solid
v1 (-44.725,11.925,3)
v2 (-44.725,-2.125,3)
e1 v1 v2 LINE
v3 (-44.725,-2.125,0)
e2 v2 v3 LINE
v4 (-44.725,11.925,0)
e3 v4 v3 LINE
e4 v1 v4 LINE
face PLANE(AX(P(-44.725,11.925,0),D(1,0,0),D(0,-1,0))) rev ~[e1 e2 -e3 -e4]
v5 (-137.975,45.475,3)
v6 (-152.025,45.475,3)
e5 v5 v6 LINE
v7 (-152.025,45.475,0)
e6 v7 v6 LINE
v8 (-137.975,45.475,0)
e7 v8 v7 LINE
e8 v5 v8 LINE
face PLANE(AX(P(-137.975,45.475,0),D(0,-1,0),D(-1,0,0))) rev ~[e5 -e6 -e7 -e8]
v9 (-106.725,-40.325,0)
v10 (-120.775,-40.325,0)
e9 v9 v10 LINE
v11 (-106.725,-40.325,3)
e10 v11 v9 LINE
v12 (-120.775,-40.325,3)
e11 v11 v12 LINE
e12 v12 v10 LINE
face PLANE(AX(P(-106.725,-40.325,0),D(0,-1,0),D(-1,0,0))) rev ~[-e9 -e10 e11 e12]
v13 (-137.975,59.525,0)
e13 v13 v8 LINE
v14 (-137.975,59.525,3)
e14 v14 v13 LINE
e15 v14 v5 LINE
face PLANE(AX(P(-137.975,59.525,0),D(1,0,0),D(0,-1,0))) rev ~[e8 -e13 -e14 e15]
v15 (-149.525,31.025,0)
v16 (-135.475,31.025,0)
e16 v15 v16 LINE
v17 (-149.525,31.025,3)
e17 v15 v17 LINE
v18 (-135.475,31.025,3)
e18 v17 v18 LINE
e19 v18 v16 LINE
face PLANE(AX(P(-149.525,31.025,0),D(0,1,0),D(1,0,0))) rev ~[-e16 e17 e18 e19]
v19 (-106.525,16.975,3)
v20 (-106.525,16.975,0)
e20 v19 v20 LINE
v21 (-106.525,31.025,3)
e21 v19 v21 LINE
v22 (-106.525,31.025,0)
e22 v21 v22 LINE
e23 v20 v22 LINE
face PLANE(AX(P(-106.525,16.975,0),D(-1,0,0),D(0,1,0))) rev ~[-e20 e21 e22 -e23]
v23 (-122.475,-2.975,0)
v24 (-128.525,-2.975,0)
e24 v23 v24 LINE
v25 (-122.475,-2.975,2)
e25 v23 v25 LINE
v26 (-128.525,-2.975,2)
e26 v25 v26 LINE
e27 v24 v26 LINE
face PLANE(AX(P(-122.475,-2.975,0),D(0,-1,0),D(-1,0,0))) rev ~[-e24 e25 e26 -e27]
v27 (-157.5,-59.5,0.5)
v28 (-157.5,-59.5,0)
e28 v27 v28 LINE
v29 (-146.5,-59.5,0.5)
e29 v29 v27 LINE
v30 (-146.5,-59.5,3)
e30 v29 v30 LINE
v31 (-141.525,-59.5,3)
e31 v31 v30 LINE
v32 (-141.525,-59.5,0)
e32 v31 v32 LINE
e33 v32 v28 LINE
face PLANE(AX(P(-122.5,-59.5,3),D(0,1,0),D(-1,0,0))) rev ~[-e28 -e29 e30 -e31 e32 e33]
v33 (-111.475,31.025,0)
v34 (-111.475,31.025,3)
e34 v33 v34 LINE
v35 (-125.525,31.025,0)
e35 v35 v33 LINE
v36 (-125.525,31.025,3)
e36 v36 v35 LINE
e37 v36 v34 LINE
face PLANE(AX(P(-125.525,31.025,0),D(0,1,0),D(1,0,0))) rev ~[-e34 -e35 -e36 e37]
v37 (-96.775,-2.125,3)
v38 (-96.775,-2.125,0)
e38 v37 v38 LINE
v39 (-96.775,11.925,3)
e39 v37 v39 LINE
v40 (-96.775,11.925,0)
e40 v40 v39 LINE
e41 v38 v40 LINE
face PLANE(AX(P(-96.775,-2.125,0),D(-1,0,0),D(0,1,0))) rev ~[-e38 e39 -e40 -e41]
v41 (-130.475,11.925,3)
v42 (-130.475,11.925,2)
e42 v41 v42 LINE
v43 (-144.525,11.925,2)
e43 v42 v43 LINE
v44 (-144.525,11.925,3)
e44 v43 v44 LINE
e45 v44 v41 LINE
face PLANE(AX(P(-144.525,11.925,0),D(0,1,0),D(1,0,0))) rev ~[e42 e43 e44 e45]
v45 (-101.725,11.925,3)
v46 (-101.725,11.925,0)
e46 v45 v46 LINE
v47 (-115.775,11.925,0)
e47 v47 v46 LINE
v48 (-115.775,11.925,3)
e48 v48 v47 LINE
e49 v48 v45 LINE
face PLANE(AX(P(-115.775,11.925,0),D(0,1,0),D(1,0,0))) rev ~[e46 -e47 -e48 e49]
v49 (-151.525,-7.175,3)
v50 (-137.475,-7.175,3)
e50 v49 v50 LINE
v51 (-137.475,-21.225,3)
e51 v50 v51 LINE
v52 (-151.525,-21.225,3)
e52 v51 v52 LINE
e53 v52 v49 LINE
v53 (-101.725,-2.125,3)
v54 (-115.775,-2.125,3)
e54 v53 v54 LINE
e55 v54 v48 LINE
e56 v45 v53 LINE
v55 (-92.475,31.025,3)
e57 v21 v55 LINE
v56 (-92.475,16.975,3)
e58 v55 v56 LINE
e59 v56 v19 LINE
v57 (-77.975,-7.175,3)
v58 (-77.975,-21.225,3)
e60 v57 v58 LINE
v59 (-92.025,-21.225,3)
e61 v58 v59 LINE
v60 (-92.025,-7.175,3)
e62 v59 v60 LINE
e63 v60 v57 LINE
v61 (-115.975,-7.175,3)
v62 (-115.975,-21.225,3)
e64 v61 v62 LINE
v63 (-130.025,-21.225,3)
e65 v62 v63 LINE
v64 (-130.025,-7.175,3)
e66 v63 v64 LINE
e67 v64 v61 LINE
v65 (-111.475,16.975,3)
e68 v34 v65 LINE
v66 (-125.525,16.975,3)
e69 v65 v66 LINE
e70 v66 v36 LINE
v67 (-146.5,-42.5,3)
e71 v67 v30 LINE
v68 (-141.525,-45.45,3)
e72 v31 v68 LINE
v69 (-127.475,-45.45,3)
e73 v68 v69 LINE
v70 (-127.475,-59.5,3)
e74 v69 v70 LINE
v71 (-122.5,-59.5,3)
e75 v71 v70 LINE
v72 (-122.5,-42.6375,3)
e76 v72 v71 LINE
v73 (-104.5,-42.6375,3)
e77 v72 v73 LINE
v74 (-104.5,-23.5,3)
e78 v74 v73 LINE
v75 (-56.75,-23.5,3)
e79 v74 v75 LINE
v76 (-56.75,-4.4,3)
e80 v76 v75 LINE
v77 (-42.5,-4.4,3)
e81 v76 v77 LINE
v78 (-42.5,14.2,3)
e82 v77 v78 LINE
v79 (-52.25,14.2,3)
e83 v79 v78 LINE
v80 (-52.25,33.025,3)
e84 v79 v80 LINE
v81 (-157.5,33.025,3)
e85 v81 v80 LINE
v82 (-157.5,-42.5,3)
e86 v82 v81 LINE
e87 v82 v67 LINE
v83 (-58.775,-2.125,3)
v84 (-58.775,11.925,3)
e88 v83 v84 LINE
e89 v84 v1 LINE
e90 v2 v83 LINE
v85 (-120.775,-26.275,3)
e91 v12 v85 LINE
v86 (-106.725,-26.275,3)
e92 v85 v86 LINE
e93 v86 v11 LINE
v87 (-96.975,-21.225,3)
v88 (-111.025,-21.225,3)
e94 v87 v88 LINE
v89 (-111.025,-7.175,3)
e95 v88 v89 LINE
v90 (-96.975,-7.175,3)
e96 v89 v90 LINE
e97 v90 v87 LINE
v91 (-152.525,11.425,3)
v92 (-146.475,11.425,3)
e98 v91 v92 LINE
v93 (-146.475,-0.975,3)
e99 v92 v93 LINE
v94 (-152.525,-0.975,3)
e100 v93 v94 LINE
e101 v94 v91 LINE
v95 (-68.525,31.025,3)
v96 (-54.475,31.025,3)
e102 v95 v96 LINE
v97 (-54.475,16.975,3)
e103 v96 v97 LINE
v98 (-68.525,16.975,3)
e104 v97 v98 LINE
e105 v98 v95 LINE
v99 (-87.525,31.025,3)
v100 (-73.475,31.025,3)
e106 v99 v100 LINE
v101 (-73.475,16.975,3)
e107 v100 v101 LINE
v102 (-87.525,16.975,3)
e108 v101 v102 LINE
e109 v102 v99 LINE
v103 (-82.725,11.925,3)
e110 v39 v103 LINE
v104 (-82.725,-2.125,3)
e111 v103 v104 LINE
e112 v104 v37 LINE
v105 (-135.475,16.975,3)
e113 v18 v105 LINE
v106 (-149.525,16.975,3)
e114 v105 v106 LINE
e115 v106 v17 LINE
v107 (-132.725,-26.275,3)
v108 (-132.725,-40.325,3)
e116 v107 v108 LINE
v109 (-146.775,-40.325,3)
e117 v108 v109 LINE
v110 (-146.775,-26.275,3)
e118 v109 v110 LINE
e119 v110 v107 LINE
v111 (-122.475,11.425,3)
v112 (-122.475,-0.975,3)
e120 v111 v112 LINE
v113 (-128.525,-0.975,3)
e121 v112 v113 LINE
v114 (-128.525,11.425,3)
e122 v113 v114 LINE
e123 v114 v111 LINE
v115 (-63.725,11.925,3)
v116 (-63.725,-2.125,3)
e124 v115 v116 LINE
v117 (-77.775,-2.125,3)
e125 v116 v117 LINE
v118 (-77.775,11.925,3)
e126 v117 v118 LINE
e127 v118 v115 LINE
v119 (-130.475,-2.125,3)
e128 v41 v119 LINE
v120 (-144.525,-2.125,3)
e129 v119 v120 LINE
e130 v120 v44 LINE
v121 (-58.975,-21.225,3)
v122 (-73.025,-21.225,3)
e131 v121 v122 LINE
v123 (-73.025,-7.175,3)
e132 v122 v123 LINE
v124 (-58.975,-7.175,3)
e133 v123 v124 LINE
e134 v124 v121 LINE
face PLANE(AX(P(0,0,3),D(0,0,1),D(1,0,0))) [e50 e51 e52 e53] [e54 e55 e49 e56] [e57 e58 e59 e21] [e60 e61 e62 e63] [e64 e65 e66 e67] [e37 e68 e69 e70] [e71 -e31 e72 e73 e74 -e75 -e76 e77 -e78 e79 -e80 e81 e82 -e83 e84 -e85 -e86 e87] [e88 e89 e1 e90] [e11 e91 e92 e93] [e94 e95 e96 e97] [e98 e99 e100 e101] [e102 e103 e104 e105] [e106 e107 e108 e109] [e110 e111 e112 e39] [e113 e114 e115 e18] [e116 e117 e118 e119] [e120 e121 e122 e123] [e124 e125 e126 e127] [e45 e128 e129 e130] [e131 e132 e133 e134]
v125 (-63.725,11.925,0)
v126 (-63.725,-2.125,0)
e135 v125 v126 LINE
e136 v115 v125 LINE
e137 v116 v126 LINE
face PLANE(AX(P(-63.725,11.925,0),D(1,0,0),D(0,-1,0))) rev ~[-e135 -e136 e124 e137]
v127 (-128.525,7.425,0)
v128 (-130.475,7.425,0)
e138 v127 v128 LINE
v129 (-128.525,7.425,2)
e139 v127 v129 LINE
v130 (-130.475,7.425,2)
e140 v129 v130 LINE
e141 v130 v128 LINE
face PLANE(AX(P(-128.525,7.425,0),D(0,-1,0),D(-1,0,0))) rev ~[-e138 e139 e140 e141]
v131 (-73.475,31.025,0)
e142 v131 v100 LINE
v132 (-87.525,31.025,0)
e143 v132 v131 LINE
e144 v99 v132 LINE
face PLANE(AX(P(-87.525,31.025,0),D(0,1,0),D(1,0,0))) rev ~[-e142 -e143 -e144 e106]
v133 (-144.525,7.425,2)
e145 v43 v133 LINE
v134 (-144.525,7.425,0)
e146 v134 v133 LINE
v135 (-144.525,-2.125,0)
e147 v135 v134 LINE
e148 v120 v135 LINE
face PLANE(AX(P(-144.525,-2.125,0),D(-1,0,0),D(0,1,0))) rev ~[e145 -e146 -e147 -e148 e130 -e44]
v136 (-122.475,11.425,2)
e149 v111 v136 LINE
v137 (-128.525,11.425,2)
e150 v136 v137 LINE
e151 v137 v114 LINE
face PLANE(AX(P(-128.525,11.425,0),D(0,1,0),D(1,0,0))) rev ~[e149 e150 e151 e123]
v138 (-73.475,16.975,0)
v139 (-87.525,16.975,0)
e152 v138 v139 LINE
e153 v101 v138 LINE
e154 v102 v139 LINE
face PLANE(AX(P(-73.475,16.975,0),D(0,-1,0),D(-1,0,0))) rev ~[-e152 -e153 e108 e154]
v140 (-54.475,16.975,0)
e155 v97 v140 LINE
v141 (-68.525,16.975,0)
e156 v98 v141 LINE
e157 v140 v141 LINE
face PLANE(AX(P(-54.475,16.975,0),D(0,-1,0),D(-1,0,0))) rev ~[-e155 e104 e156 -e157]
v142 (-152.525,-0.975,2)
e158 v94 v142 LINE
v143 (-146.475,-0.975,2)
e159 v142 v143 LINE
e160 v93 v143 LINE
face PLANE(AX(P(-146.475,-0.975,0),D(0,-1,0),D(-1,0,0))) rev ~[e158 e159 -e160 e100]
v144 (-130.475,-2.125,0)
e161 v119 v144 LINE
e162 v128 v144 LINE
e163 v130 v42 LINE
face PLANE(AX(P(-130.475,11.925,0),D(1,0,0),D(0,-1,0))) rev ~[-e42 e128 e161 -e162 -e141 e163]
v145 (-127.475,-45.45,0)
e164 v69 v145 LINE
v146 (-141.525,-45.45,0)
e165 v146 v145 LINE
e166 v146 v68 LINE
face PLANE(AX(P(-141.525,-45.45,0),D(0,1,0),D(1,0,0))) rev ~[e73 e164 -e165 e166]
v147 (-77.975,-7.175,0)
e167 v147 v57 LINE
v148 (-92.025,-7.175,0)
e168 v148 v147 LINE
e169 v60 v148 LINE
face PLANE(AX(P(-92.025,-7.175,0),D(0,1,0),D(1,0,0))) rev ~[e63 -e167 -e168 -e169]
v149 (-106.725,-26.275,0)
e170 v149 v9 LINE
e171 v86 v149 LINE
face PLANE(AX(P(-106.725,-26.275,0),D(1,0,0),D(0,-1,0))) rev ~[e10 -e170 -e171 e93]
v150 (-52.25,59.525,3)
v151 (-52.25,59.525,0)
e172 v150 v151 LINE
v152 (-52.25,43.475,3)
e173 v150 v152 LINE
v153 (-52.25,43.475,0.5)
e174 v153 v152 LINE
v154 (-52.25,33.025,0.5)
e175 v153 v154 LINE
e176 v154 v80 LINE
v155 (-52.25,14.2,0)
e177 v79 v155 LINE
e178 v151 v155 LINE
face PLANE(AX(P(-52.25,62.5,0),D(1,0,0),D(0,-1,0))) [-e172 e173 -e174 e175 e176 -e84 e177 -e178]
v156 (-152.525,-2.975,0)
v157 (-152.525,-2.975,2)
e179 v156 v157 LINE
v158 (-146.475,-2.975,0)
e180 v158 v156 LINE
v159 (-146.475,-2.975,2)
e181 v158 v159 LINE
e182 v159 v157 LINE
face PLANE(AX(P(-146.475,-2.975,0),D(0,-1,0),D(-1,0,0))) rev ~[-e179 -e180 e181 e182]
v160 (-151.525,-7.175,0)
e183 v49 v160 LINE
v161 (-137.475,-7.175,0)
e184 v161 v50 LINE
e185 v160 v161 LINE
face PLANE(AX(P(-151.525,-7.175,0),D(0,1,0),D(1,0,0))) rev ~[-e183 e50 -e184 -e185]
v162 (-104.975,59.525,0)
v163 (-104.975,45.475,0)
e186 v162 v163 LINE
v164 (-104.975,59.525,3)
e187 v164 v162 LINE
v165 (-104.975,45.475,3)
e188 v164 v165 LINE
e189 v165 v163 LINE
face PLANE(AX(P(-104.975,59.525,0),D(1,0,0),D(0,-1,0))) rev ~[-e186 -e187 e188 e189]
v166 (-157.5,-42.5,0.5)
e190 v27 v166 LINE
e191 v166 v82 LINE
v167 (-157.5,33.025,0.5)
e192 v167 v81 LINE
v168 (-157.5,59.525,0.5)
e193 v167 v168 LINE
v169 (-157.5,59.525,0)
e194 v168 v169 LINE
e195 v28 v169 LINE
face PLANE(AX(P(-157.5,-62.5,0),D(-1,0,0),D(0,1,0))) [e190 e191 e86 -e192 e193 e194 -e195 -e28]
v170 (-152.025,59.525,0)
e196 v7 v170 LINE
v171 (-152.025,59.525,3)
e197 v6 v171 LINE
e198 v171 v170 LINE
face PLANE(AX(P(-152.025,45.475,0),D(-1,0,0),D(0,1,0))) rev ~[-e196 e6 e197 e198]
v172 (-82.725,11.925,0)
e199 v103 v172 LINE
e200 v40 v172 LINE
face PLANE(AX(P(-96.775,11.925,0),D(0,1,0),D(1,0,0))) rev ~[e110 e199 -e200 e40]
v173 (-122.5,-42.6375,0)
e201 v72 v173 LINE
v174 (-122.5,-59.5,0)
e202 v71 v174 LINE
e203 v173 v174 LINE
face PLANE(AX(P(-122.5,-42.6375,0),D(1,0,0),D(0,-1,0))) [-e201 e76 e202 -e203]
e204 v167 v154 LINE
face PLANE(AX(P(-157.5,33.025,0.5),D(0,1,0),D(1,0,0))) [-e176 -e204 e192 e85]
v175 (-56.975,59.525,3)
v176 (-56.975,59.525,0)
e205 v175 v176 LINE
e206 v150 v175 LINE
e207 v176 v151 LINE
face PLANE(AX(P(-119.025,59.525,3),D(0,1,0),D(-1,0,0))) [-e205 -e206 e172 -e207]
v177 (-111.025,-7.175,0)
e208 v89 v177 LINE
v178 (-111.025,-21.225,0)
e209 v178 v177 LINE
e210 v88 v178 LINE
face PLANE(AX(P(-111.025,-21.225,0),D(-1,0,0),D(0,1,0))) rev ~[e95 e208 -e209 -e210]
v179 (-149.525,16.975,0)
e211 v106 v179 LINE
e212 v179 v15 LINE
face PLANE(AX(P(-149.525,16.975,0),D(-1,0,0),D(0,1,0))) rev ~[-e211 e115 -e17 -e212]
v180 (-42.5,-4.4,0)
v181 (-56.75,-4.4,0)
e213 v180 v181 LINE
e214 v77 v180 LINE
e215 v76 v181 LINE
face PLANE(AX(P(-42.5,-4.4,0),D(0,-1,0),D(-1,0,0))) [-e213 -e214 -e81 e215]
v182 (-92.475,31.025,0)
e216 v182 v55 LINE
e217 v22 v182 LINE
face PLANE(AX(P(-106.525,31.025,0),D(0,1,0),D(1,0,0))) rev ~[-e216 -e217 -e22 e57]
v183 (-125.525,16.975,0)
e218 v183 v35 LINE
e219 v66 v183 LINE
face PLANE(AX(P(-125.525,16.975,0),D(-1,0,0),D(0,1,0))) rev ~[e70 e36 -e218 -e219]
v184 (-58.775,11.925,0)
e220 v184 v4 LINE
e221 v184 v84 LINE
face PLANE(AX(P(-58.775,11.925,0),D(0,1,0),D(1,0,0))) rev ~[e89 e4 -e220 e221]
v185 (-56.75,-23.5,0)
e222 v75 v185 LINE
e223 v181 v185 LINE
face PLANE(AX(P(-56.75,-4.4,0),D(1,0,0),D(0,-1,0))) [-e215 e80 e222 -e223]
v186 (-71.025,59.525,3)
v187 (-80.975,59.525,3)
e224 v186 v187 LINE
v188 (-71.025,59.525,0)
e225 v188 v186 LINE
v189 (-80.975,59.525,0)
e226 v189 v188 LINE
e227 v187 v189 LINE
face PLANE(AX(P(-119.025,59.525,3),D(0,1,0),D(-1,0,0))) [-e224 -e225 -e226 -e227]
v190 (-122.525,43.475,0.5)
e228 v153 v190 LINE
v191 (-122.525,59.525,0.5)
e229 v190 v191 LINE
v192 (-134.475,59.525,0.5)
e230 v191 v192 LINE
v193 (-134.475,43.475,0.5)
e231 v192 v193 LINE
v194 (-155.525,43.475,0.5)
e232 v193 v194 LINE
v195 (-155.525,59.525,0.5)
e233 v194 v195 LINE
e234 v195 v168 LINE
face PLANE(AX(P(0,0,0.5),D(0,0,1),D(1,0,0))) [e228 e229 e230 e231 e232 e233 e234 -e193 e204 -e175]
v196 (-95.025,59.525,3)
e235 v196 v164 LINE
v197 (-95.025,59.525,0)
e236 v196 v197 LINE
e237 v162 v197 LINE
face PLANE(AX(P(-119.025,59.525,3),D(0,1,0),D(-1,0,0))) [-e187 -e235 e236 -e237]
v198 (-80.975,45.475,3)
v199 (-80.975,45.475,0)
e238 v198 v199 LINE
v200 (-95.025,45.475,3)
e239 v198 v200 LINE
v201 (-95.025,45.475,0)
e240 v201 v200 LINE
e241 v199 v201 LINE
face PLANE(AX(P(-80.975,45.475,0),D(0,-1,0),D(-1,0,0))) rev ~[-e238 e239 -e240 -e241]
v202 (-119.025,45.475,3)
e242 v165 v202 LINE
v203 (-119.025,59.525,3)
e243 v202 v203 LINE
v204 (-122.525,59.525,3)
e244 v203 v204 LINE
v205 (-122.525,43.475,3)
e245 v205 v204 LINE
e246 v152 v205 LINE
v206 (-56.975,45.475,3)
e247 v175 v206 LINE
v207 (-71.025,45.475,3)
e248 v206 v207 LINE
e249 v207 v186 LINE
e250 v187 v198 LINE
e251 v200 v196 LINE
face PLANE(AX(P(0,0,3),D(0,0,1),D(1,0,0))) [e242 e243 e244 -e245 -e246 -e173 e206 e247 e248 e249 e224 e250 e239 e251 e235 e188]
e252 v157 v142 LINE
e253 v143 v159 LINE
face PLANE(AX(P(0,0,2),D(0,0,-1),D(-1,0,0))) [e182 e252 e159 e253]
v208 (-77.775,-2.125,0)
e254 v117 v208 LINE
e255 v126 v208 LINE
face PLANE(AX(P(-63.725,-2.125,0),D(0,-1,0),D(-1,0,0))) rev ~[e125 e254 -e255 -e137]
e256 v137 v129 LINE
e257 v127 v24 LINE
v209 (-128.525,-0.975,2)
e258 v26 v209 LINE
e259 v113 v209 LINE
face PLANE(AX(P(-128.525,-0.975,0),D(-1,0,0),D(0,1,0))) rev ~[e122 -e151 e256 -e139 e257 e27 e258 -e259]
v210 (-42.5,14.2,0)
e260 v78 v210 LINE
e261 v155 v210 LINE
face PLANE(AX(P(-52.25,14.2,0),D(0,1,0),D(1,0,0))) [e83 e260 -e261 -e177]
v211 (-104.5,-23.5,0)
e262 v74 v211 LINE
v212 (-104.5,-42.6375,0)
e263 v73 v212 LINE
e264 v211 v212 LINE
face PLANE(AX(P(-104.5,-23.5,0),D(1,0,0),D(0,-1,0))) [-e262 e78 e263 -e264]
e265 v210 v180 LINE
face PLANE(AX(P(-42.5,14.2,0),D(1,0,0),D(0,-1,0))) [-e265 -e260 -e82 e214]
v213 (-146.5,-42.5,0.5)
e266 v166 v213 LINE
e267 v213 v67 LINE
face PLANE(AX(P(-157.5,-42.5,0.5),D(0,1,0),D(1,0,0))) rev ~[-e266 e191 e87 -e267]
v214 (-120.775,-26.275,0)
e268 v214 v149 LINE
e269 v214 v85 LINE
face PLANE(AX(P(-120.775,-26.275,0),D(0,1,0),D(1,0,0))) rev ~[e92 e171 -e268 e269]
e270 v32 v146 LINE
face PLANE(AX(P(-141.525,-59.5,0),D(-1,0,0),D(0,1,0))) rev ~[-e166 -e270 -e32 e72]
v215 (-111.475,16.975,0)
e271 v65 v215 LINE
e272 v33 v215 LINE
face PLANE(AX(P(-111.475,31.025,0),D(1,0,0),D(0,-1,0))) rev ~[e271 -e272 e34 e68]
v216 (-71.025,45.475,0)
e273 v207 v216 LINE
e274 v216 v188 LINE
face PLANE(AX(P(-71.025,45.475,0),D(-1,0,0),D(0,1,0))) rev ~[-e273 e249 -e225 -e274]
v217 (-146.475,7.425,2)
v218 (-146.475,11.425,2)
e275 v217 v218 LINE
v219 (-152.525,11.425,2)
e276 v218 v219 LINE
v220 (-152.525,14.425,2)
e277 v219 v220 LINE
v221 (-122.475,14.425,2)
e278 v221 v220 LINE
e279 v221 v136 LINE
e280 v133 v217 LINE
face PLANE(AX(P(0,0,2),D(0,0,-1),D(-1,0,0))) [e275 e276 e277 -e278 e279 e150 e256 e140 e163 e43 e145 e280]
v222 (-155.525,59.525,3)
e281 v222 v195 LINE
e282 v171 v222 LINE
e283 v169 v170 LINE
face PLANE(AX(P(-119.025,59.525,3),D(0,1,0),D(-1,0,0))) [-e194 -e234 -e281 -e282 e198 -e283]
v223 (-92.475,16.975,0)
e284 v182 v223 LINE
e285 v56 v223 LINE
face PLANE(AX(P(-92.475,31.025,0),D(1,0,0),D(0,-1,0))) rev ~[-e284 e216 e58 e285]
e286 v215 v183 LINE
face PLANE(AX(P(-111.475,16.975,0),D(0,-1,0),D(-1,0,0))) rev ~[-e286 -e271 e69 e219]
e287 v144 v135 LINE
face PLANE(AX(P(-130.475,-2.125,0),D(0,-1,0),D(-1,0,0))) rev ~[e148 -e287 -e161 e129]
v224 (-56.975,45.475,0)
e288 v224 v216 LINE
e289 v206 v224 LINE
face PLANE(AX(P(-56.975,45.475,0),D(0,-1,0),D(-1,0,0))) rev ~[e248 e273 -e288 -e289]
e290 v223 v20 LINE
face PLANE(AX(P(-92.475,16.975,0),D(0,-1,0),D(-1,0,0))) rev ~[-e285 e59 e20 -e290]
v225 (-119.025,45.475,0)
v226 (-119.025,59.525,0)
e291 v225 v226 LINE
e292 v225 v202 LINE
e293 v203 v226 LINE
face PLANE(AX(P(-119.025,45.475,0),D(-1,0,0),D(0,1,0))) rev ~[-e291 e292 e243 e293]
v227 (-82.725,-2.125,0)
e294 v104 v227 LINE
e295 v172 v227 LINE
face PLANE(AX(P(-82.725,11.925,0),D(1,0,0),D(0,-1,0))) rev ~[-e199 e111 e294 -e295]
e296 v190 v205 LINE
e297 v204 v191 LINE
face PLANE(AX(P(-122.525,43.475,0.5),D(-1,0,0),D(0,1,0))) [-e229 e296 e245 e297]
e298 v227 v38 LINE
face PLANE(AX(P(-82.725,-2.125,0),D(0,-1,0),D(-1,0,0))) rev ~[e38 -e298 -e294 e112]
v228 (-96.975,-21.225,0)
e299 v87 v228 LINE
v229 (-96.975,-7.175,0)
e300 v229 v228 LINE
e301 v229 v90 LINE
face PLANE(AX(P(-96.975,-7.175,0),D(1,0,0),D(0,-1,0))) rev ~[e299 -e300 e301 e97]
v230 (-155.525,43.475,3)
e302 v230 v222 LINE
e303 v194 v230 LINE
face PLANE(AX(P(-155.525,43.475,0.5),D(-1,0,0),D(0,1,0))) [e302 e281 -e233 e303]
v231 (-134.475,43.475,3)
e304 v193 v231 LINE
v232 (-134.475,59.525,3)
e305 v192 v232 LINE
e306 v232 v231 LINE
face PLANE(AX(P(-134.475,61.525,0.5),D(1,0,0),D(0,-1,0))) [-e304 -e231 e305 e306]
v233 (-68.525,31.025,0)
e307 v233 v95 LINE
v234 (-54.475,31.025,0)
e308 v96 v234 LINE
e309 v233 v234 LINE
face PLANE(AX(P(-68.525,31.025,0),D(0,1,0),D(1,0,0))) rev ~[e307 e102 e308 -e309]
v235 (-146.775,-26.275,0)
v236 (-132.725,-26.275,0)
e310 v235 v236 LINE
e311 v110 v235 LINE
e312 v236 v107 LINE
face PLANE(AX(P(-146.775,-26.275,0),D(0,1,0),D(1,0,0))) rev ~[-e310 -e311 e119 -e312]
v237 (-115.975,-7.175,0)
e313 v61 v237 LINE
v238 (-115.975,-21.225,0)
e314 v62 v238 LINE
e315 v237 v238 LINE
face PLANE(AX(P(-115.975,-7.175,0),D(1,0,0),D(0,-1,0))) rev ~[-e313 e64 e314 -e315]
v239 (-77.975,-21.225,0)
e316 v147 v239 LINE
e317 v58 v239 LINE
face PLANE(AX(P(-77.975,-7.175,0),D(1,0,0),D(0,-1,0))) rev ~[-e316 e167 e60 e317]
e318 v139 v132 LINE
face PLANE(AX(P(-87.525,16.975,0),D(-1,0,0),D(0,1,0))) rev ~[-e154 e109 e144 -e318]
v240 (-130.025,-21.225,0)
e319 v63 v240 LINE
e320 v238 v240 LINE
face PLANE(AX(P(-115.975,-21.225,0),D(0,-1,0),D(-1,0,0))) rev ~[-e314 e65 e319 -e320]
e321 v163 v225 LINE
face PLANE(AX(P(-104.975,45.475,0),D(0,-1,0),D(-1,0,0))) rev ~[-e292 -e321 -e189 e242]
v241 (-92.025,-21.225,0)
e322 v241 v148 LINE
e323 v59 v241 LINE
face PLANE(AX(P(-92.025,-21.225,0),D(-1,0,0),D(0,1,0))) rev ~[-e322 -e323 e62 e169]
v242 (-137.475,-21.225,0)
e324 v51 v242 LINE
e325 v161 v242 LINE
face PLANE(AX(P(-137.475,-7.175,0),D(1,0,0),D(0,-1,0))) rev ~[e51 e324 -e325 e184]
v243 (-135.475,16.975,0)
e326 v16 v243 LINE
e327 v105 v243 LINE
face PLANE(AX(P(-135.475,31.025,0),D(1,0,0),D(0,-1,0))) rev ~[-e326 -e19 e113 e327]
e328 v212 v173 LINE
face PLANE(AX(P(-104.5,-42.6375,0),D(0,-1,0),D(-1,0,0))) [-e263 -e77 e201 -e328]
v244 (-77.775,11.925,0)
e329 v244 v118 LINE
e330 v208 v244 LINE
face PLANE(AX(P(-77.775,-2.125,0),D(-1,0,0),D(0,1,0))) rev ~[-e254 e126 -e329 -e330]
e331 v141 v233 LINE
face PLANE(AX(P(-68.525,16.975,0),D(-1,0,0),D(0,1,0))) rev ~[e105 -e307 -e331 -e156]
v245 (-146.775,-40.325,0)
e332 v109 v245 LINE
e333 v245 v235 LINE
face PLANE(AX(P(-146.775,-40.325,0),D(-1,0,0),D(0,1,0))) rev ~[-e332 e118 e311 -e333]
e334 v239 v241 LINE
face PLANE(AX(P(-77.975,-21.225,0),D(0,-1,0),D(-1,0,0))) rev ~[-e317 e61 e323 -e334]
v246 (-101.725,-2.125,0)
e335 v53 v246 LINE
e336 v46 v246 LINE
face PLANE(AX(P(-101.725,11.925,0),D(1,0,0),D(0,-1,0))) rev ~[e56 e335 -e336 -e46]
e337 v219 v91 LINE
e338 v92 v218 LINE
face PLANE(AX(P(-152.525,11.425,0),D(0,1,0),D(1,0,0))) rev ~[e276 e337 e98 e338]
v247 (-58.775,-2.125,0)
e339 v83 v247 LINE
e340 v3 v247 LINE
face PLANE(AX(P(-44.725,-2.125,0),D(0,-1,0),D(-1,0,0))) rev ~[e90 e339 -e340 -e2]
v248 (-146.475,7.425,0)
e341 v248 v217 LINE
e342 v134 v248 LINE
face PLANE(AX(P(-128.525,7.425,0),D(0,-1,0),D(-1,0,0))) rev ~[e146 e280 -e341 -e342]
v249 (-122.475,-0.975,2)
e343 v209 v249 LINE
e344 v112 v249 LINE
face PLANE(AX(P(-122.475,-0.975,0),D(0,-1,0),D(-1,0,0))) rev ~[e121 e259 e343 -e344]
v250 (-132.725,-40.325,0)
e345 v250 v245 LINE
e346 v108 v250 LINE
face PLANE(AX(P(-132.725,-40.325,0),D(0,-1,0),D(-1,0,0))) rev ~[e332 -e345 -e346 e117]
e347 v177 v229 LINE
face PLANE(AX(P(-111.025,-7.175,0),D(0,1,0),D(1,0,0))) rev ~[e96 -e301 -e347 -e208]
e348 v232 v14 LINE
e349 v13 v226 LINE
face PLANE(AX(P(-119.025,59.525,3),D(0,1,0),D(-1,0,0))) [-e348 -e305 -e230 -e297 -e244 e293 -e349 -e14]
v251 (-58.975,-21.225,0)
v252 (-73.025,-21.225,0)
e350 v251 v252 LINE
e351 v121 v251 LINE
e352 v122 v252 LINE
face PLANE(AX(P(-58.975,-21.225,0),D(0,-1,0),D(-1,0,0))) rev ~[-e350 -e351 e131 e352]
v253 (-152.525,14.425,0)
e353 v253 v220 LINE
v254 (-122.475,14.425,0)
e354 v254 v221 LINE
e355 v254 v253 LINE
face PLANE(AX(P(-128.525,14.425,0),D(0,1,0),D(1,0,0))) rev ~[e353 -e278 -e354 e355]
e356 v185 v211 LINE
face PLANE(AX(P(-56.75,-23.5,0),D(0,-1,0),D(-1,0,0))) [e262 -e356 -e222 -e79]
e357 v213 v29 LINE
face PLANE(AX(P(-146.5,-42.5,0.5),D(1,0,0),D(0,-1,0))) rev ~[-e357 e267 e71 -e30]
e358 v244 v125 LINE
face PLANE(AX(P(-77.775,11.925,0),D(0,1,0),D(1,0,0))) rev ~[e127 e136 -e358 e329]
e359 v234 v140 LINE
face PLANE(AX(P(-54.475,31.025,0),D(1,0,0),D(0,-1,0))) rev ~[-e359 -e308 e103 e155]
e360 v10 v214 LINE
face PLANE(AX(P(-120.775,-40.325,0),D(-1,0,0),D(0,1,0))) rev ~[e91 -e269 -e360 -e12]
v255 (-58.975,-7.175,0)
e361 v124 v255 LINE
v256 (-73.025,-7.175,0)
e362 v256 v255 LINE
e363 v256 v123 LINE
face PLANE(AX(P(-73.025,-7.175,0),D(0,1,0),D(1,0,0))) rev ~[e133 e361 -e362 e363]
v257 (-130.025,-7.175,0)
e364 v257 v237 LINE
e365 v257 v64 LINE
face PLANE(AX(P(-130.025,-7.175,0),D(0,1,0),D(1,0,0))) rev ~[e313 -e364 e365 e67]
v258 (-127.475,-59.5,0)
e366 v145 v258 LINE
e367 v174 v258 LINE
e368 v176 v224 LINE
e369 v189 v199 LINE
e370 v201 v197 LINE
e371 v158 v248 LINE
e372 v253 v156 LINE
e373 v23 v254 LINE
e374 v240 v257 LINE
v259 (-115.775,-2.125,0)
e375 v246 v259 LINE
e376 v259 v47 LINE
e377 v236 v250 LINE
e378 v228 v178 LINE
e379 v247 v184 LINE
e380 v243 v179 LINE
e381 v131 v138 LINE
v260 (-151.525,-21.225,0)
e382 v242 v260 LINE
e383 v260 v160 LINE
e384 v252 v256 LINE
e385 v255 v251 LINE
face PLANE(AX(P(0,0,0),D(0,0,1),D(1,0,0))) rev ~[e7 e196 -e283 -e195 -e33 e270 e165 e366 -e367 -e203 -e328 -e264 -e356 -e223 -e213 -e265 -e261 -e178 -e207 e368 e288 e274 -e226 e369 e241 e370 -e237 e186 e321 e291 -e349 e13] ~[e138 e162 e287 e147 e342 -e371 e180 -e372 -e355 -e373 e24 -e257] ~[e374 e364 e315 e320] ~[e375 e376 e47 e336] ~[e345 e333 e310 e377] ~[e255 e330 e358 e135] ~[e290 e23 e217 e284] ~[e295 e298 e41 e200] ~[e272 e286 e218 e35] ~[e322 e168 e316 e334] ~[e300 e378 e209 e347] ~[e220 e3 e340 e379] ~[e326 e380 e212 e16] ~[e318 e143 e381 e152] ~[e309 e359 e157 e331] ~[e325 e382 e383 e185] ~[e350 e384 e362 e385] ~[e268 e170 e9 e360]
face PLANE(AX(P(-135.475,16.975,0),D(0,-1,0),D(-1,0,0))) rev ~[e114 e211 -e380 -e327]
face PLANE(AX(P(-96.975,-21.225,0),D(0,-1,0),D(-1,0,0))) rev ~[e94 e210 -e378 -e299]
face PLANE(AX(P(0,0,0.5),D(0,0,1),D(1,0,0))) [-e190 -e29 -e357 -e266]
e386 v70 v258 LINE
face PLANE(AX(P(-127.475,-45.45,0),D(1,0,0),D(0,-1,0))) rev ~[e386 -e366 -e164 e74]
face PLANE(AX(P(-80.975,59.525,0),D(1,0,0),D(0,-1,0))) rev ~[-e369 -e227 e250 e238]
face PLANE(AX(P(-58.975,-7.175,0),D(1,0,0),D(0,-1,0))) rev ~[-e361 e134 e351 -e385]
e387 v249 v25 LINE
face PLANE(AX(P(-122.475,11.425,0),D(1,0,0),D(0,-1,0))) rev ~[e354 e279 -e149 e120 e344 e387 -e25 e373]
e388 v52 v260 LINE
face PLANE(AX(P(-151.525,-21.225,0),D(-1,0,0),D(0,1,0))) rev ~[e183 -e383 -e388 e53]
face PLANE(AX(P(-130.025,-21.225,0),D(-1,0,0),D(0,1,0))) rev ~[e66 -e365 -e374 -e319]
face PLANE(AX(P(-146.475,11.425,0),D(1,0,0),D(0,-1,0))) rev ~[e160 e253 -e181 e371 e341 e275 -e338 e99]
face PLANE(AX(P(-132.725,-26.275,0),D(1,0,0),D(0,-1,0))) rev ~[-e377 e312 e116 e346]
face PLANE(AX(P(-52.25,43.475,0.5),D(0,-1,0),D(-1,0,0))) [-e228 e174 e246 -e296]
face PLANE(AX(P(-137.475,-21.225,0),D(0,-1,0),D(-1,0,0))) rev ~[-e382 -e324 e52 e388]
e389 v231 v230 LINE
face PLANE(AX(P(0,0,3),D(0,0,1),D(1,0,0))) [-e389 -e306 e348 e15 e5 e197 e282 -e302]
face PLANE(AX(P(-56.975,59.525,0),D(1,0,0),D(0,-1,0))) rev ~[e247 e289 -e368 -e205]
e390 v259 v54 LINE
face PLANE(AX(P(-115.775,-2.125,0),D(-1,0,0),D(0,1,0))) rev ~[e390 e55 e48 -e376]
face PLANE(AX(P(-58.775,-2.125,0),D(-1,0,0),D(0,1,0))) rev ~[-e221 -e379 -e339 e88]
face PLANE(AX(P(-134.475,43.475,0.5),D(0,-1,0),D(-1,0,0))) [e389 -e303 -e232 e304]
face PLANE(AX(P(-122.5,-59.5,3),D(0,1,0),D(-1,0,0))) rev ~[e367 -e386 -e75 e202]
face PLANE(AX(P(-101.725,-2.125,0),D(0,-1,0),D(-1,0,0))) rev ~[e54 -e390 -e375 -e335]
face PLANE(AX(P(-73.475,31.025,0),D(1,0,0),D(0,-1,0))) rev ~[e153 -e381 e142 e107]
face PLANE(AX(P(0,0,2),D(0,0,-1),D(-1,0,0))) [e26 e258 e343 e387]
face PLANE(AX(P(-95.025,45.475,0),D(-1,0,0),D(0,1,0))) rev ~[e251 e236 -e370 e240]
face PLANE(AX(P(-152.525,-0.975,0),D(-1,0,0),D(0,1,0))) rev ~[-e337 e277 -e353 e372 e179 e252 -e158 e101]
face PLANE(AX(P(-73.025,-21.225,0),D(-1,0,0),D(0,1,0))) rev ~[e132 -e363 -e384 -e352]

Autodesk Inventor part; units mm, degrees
ref_plane "YZ Plane" through (0, 0, 0) normal (1, 0, 0) x (0, 1, 0)
ref_plane "XZ Plane" through (0, 0, 0) normal (0, 1, 0) x (-1, 0, 0)
ref_plane "XY Plane" through (0, 0, 0) normal (0, 0, 1) x (1, 0, 0)
sketch "Sketch1" plane through (0, 0, 0) normal (0, 0, 1) x (1, 0, 0)
  line L0 (157.5, 62.5) -> (-157.5, 62.5) construction
  line L1 (-157.5, 62.5) -> (-157.5, -62.5) construction
  line L2 (-157.5, -62.5) -> (157.5, -62.5) construction
  line L3 (-52.25, 62.5) -> (-52.25, 14.2)
  line L4 (-52.25, 14.2) -> (-42.5, 14.2)
  line L5 (-42.5, 14.2) -> (-42.5, -4.4)
  line L6 (-42.5, -4.4) -> (-56.75, -4.4)
  line L7 (-56.75, -4.4) -> (-56.75, -23.5)
  line L8 (-56.75, -23.5) -> (-104.5, -23.5)
  line L9 (-104.5, -23.5) -> (-104.5, -42.6375)
  line L10 (-104.5, -42.6375) -> (-122.5, -42.6375)
  line L11 (-122.5, -42.6375) -> (-122.5, -62.5)
  line L12 (-122.5, -62.5) -> (-157.5, -62.5)
  line L13 (-157.5, -62.5) -> (-157.5, 62.5)
  line L14 (-157.5, 62.5) -> (-52.25, 62.5)
  line L15 (-51.75, 61.525) -> (-51.75, 43.475) construction
  line L16 (-51.75, 14.7) -> (-42, 14.7) construction
  line L17 (-42, 14.7) -> (-42, -4.9) construction
  line L18 (-42, -4.9) -> (-56.25, -4.9) construction
  line L19 (-56.25, -4.9) -> (-56.25, -23.5) construction
  line L20 (66.5, -24) -> (-104, -24) construction
  line L21 (-104, -24) -> (-104, -43.1375) construction
  line L22 (-104, -43.1375) -> (-122, -43.1375) construction
  line L23 (-122, -43.1375) -> (-122, -62.5) construction
  line L24 (-152.025, 45.475) -> (-152.025, 59.525) projected
  line L25 (-152.025, 59.525) -> (-137.975, 59.525) projected
  line L26 (-137.975, 59.525) -> (-137.975, 45.475) projected
  line L27 (-137.975, 45.475) -> (-152.025, 45.475) projected
  line L28 (-119.025, 45.475) -> (-119.025, 59.525) projected
  line L29 (-119.025, 59.525) -> (-104.975, 59.525) projected
  line L30 (-104.975, 59.525) -> (-104.975, 45.475) projected
  line L31 (-104.975, 45.475) -> (-119.025, 45.475) projected
  line L32 (-95.025, 45.475) -> (-95.025, 59.525) projected
  line L33 (-95.025, 59.525) -> (-80.975, 59.525) projected
  line L34 (-80.975, 59.525) -> (-80.975, 45.475) projected
  line L35 (-80.975, 45.475) -> (-95.025, 45.475) projected
  line L36 (-71.025, 59.525) -> (-56.975, 59.525) projected
  line L37 (-56.975, 59.525) -> (-56.975, 45.475) projected
  line L38 (-56.975, 45.475) -> (-71.025, 45.475) projected
  line L39 (-71.025, 45.475) -> (-71.025, 59.525) projected
  line L40 (-68.525, 31.025) -> (-54.475, 31.025) projected
  line L41 (-54.475, 31.025) -> (-54.475, 16.975) projected
  line L42 (-68.525, 16.975) -> (-68.525, 31.025) projected
  line L43 (-54.475, 16.975) -> (-68.525, 16.975) projected
  line L44 (-73.475, 31.025) -> (-73.475, 16.975) projected
  line L45 (-87.525, 31.025) -> (-73.475, 31.025) projected
  line L46 (-87.525, 16.975) -> (-87.525, 31.025) projected
  line L47 (-73.475, 16.975) -> (-87.525, 16.975) projected
  line L48 (-92.475, 31.025) -> (-92.475, 16.975) projected
  line L49 (-106.525, 31.025) -> (-92.475, 31.025) projected
  line L50 (-106.525, 16.975) -> (-106.525, 31.025) projected
  line L51 (-92.475, 16.975) -> (-106.525, 16.975) projected
  line L52 (-111.475, 31.025) -> (-111.475, 16.975) projected
  line L53 (-125.525, 16.975) -> (-125.525, 31.025) projected
  line L54 (-125.525, 31.025) -> (-111.475, 31.025) projected
  line L55 (-111.475, 16.975) -> (-125.525, 16.975) projected
  line L56 (-149.525, 31.025) -> (-135.475, 31.025) projected
  line L57 (-135.475, 31.025) -> (-135.475, 16.975) projected
  line L58 (-149.525, 16.975) -> (-149.525, 31.025) projected
  line L59 (-135.475, 16.975) -> (-149.525, 16.975) projected
  line L60 (-144.525, 11.925) -> (-130.475, 11.925) projected
  line L61 (-130.475, -2.125) -> (-144.525, -2.125) projected
  line L62 (-130.475, 11.925) -> (-130.475, -2.125) projected
  line L63 (-144.525, -2.125) -> (-144.525, 11.925) projected
  line L64 (-115.775, -2.125) -> (-115.775, 11.925) projected
  line L65 (-115.775, 11.925) -> (-101.725, 11.925) projected
  line L66 (-101.725, 11.925) -> (-101.725, -2.125) projected
  line L67 (-101.725, -2.125) -> (-115.775, -2.125) projected
  line L68 (-96.775, 11.925) -> (-82.725, 11.925) projected
  line L69 (-82.725, 11.925) -> (-82.725, -2.125) projected
  line L70 (-96.775, -2.125) -> (-96.775, 11.925) projected
  line L71 (-82.725, -2.125) -> (-96.775, -2.125) projected
  line L72 (-77.775, 11.925) -> (-63.725, 11.925) projected
  line L73 (-63.725, 11.925) -> (-63.725, -2.125) projected
  line L74 (-63.725, -2.125) -> (-77.775, -2.125) projected
  line L75 (-77.775, -2.125) -> (-77.775, 11.925) projected
  line L76 (-58.775, 11.925) -> (-44.725, 11.925) projected
  line L77 (-44.725, 11.925) -> (-44.725, -2.125) projected
  line L78 (-44.725, -2.125) -> (-58.775, -2.125) projected
  line L79 (-58.775, -2.125) -> (-58.775, 11.925) projected
  line L80 (-73.025, -7.175) -> (-58.975, -7.175) projected
  line L81 (-58.975, -7.175) -> (-58.975, -21.225) projected
  line L82 (-58.975, -21.225) -> (-73.025, -21.225) projected
  line L83 (-73.025, -21.225) -> (-73.025, -7.175) projected
  line L84 (-77.975, -7.175) -> (-77.975, -21.225) projected
  line L85 (-92.025, -7.175) -> (-77.975, -7.175) projected
  line L86 (-92.025, -21.225) -> (-92.025, -7.175) projected
  line L87 (-77.975, -21.225) -> (-92.025, -21.225) projected
  line L88 (-96.975, -7.175) -> (-96.975, -21.225) projected
  line L89 (-111.025, -7.175) -> (-96.975, -7.175) projected
  line L90 (-111.025, -21.225) -> (-111.025, -7.175) projected
  line L91 (-96.975, -21.225) -> (-111.025, -21.225) projected
  line L92 (-130.025, -7.175) -> (-115.975, -7.175) projected
  line L93 (-115.975, -7.175) -> (-115.975, -21.225) projected
  line L94 (-130.025, -21.225) -> (-130.025, -7.175) projected
  line L95 (-115.975, -21.225) -> (-130.025, -21.225) projected
  line L96 (-120.775, -26.275) -> (-106.725, -26.275) projected
  line L97 (-106.725, -26.275) -> (-106.725, -40.325) projected
  line L98 (-106.725, -40.325) -> (-120.775, -40.325) projected
  line L99 (-120.775, -40.325) -> (-120.775, -26.275) projected
  line L100 (-141.525, -45.45) -> (-127.475, -45.45) projected
  line L101 (-127.475, -45.45) -> (-127.475, -59.5) projected
  line L102 (-141.525, -59.5) -> (-141.525, -45.45) projected
  line L103 (-127.475, -59.5) -> (-141.525, -59.5) projected
  line L104 (-132.725, -26.275) -> (-132.725, -40.325) projected
  line L105 (-146.775, -26.275) -> (-132.725, -26.275) projected
  line L106 (-146.775, -40.325) -> (-146.775, -26.275) projected
  line L107 (-132.725, -40.325) -> (-146.775, -40.325) projected
  line L108 (-137.475, -7.175) -> (-137.475, -21.225) projected
  line L109 (-151.525, -21.225) -> (-151.525, -7.175) projected
  line L110 (-137.475, -21.225) -> (-151.525, -21.225) projected
  line L111 (-151.525, -7.175) -> (-137.475, -7.175) projected
  line L112 (-152.525, -3.625) -> (-152.525, 13.425) construction
  line L113 (-146.475, 13.425) -> (-146.475, -3.625) construction
  line L114 (-128.525, -3.625) -> (-128.525, 13.425) construction
  line L115 (-122.475, 13.425) -> (-122.475, -3.625) construction
  line L116 (-152.525, 11.425) -> (-146.475, 11.425)
  line L117 (-146.475, 11.425) -> (-146.475, -0.975)
  line L118 (-146.475, -0.975) -> (-152.525, -0.975)
  line L119 (-152.525, -0.975) -> (-152.525, 11.425)
  line L120 (-128.525, 11.425) -> (-122.475, 11.425)
  line L121 (-122.475, 11.425) -> (-122.475, -0.975)
  line L122 (-122.475, -0.975) -> (-128.525, -0.975)
  line L123 (-128.525, -0.975) -> (-128.525, 11.425)
  line L124 (-152.525, 13.425) -> (-146.475, 13.425) construction
  point P0 (0, 0)
  dimension "d0" = 0.5
  dimension "d1" = 0.5
  dimension "d2" = 0.5
  dimension "d3" = 0.5
  dimension "d4" = 0.5
  dimension "d5" = 0.5
  dimension "d6" = 0.5
  dimension "d7" = 0.5
  dimension "d8" = 0.5
  dimension "d9" = 2
  dimension "d10" = 12.4
extrude "Extrusion1" add sketch "Sketch1" along normal blind 0.5
sketch "Sketch2" plane through (0, 0, 0.5) normal (0, 0, 1) x (1, 0, 0)
  line L0 (-155.525, 61.525) -> (-134.475, 61.525)
  line L1 (-134.475, 61.525) -> (-134.475, 43.475)
  line L2 (-134.475, 43.475) -> (-155.525, 43.475)
  line L3 (-155.525, 43.475) -> (-155.525, 61.525)
  line L4 (-122.525, 61.525) -> (-52.25, 61.525)
  line L5 (-52.25, 61.525) -> (-52.25, 43.475)
  line L6 (-52.25, 43.475) -> (-122.525, 43.475)
  line L7 (-122.525, 43.475) -> (-122.525, 61.525)
  line L8 (-157.5, 62.5) -> (-157.5, -62.5) construction
  line L9 (-157.5, 33.025) -> (-52.25, 33.025)
  line L10 (-52.25, 14.2) -> (-52.25, 62.5) construction
  line L11 (-42.5, 14.2) -> (-52.25, 14.2) construction
  line L12 (-52.25, 14.2) -> (-52.25, 62.5) projected
  line L13 (-52.25, 33.025) -> (-52.25, 14.2)
  line L14 (-42.5, -4.4) -> (-42.5, 14.2) projected
  line L15 (-52.25, 14.2) -> (-42.5, 14.2)
  line L16 (-152.025, 59.525) -> (-137.975, 59.525) projected
  line L17 (-152.025, 45.475) -> (-152.025, 59.525) projected
  line L18 (-137.975, 59.525) -> (-137.975, 45.475) projected
  line L19 (-137.975, 45.475) -> (-152.025, 45.475) projected
  line L20 (-119.025, 45.475) -> (-119.025, 59.525) projected
  line L21 (-149.525, 31.025) -> (-135.475, 31.025) projected
  line L22 (-56.75, -4.4) -> (-42.5, -4.4) projected
  line L23 (-42.5, -4.4) -> (-56.75, -4.4)
  line L24 (-104.5, -23.5) -> (-56.75, -23.5) projected
  line L25 (-56.75, -4.4) -> (-56.75, -23.5)
  line L26 (-56.75, -23.5) -> (-104.5, -23.5)
  line L27 (-122.5, -42.6375) -> (-104.5, -42.6375) projected
  line L28 (-104.5, -23.5) -> (-104.5, -42.6375)
  line L29 (-104.5, -42.6375) -> (-122.5, -42.6375)
  line L30 (-157.5, -62.5) -> (-122.5, -62.5) construction
  line L31 (-122.5, -42.6375) -> (-122.5, -62.5)
  line L32 (-119.025, 59.525) -> (-104.975, 59.525) projected
  line L33 (-104.975, 59.525) -> (-104.975, 45.475) projected
  line L34 (-104.975, 45.475) -> (-119.025, 45.475) projected
  line L35 (-95.025, 45.475) -> (-95.025, 59.525) projected
  line L36 (-95.025, 59.525) -> (-80.975, 59.525) projected
  line L37 (-80.975, 59.525) -> (-80.975, 45.475) projected
  line L38 (-80.975, 45.475) -> (-95.025, 45.475) projected
  line L39 (-71.025, 45.475) -> (-71.025, 59.525) projected
  line L40 (-71.025, 59.525) -> (-56.975, 59.525) projected
  line L41 (-56.975, 59.525) -> (-56.975, 45.475) projected
  line L42 (-56.975, 45.475) -> (-71.025, 45.475) projected
  line L43 (-68.525, 31.025) -> (-54.475, 31.025) projected
  line L44 (-54.475, 31.025) -> (-54.475, 16.975) projected
  line L45 (-54.475, 16.975) -> (-68.525, 16.975) projected
  line L46 (-68.525, 16.975) -> (-68.525, 31.025) projected
  line L47 (-73.475, 31.025) -> (-73.475, 16.975) projected
  line L48 (-87.525, 31.025) -> (-73.475, 31.025) projected
  line L49 (-87.525, 16.975) -> (-87.525, 31.025) projected
  line L50 (-73.475, 16.975) -> (-87.525, 16.975) projected
  line L51 (-92.475, 31.025) -> (-92.475, 16.975) projected
  line L52 (-106.525, 31.025) -> (-92.475, 31.025) projected
  line L53 (-106.525, 16.975) -> (-106.525, 31.025) projected
  line L54 (-92.475, 16.975) -> (-106.525, 16.975) projected
  line L55 (-111.475, 31.025) -> (-111.475, 16.975) projected
  line L56 (-125.525, 31.025) -> (-111.475, 31.025) projected
  line L57 (-125.525, 16.975) -> (-125.525, 31.025) projected
  line L58 (-111.475, 16.975) -> (-125.525, 16.975) projected
  line L59 (-135.475, 31.025) -> (-135.475, 16.975) projected
  line L60 (-149.525, 16.975) -> (-149.525, 31.025) projected
  line L61 (-135.475, 16.975) -> (-149.525, 16.975) projected
  line L62 (-144.525, 11.925) -> (-130.475, 11.925) projected
  line L63 (-130.475, -2.125) -> (-144.525, -2.125) projected
  line L64 (-144.525, -2.125) -> (-144.525, 11.925) projected
  line L65 (-130.475, 11.925) -> (-130.475, -2.125) projected
  line L66 (-146.475, 11.425) -> (-146.475, -0.975) projected
  line L67 (-152.525, 11.425) -> (-146.475, 11.425) projected
  line L68 (-152.525, -0.975) -> (-152.525, 11.425) projected
  line L69 (-146.475, -0.975) -> (-152.525, -0.975) projected
  line L70 (-128.525, 11.425) -> (-122.475, 11.425) projected
  line L71 (-122.475, 11.425) -> (-122.475, -0.975) projected
  line L72 (-128.525, -0.975) -> (-128.525, 11.425) projected
  line L73 (-122.475, -0.975) -> (-128.525, -0.975) projected
  line L74 (-115.775, -2.125) -> (-115.775, 11.925) projected
  line L75 (-115.775, 11.925) -> (-101.725, 11.925) projected
  line L76 (-101.725, 11.925) -> (-101.725, -2.125) projected
  line L77 (-101.725, -2.125) -> (-115.775, -2.125) projected
  line L78 (-96.775, -2.125) -> (-96.775, 11.925) projected
  line L79 (-96.775, 11.925) -> (-82.725, 11.925) projected
  line L80 (-82.725, 11.925) -> (-82.725, -2.125) projected
  line L81 (-82.725, -2.125) -> (-96.775, -2.125) projected
  line L82 (-77.775, 11.925) -> (-63.725, 11.925) projected
  line L83 (-63.725, 11.925) -> (-63.725, -2.125) projected
  line L84 (-63.725, -2.125) -> (-77.775, -2.125) projected
  line L85 (-77.775, -2.125) -> (-77.775, 11.925) projected
  line L86 (-58.775, 11.925) -> (-44.725, 11.925) projected
  line L87 (-44.725, 11.925) -> (-44.725, -2.125) projected
  line L88 (-44.725, -2.125) -> (-58.775, -2.125) projected
  line L89 (-58.775, -2.125) -> (-58.775, 11.925) projected
  line L90 (-73.025, -7.175) -> (-58.975, -7.175) projected
  line L91 (-58.975, -7.175) -> (-58.975, -21.225) projected
  line L92 (-58.975, -21.225) -> (-73.025, -21.225) projected
  line L93 (-73.025, -21.225) -> (-73.025, -7.175) projected
  line L94 (-92.025, -7.175) -> (-77.975, -7.175) projected
  line L95 (-77.975, -7.175) -> (-77.975, -21.225) projected
  line L96 (-92.025, -21.225) -> (-92.025, -7.175) projected
  line L97 (-77.975, -21.225) -> (-92.025, -21.225) projected
  line L98 (-96.975, -7.175) -> (-96.975, -21.225) projected
  line L99 (-111.025, -7.175) -> (-96.975, -7.175) projected
  line L100 (-111.025, -21.225) -> (-111.025, -7.175) projected
  line L101 (-96.975, -21.225) -> (-111.025, -21.225) projected
  line L102 (-130.025, -7.175) -> (-115.975, -7.175) projected
  line L103 (-115.975, -7.175) -> (-115.975, -21.225) projected
  line L104 (-115.975, -21.225) -> (-130.025, -21.225) projected
  line L105 (-130.025, -21.225) -> (-130.025, -7.175) projected
  line L106 (-137.475, -7.175) -> (-137.475, -21.225) projected
  line L107 (-151.525, -7.175) -> (-137.475, -7.175) projected
  line L108 (-151.525, -21.225) -> (-151.525, -7.175) projected
  line L109 (-137.475, -21.225) -> (-151.525, -21.225) projected
  line L110 (-146.775, -26.275) -> (-132.725, -26.275) projected
  line L111 (-132.725, -26.275) -> (-132.725, -40.325) projected
  line L112 (-146.775, -40.325) -> (-146.775, -26.275) projected
  line L113 (-132.725, -40.325) -> (-146.775, -40.325) projected
  line L114 (-120.775, -26.275) -> (-106.725, -26.275) projected
  line L115 (-106.725, -26.275) -> (-106.725, -40.325) projected
  line L116 (-120.775, -40.325) -> (-120.775, -26.275) projected
  line L117 (-106.725, -40.325) -> (-120.775, -40.325) projected
  line L118 (-141.525, -45.45) -> (-127.475, -45.45) projected
  line L119 (-127.475, -45.45) -> (-127.475, -59.5) projected
  line L120 (-127.475, -59.5) -> (-141.525, -59.5) projected
  line L121 (-141.525, -59.5) -> (-141.525, -45.45) projected
  line L122 (-157.5, -42.5) -> (-146.5, -42.5)
  line L123 (-146.5, -42.5) -> (-146.5, -62.5)
  line L124 (-157.5, -42.5) -> (-157.5, 33.025)
  line L125 (-146.5, -62.5) -> (-122.5, -62.5)
  point P0 (0, 0)
  dimension "d13" = 2
  dimension "d14" = 3.5
  dimension "d15" = 3.5
  dimension "d16" = 2
  dimension "d17" = 3.5
  dimension "d18" = 2
  dimension "d26" = 11
  dimension "d27" = 20
extrude "Extrusion2" add sketch "Sketch2" along normal blind 2.5
sketch "Sketch3" plane through (0, 0, 0) normal (0, 0, -1) x (-1, 0, 0)
  line L0 (122.475, -3.625) -> (122.475, 13.425) construction
  line L1 (128.525, 13.425) -> (128.525, -3.625) construction
  line L2 (146.475, -3.625) -> (146.475, 13.425) construction
  line L3 (152.525, 13.425) -> (152.525, -3.625) construction
  line L4 (122.475, -2.975) -> (128.525, -2.975)
  line L5 (128.525, -2.975) -> (128.525, 7.425)
  line L6 (128.525, 14.425) -> (122.475, 14.425)
  line L7 (122.475, 14.425) -> (122.475, -2.975)
  line L8 (146.475, 11.425) -> (146.475, -0.975) projected
  line L9 (146.475, -2.975) -> (152.525, -2.975)
  line L10 (152.525, -2.975) -> (152.525, 14.425)
  line L11 (152.525, 14.425) -> (146.475, 14.425)
  line L12 (146.475, 7.425) -> (146.475, -2.975)
  line L13 (122.475, -0.975) -> (128.525, -0.975) construction
  line L14 (128.525, 11.425) -> (122.475, 11.425) construction
  line L15 (128.525, 14.425) -> (146.475, 14.425)
  line L16 (128.525, 7.425) -> (146.475, 7.425)
  point P0 (0, 0)
  dimension "d21" = 2
  dimension "d22" = 3
  dimension "d23" = 4
extrude "Extrusion3" cut sketch "Sketch3" against normal blind 2
sketch "Sketch4" plane through (0, 0, 3) normal (0, 0, 1) x (1, 0, 0)
  line L0 (-127.475, -59.5) -> (-141.525, -59.5) construction
  line L1 (-157.5, -42.5) -> (-157.5, -62.5) projected
  line L2 (-122.5, -62.5) -> (-122.5, -42.6375) projected
  line L3 (-157.5, -62.5) -> (-122.5, -62.5)
  line L4 (-122.5, -62.5) -> (-122.5, -59.5)
  line L5 (-122.5, -59.5) -> (-157.5, -59.5)
  line L6 (-157.5, -59.5) -> (-157.5, -62.5)
  line L7 (-119.025, 59.525) -> (-104.975, 59.525) projected
  line L8 (-52.25, 43.475) -> (-52.25, 61.525) projected
  line L9 (-157.5, 62.5) -> (-52.25, 62.5)
  line L10 (-52.25, 62.5) -> (-52.25, 59.525)
  line L11 (-52.25, 59.525) -> (-157.5, 59.525)
  line L12 (-157.5, 59.525) -> (-157.5, 62.5)
  point P0 (0, 0)
extrude "Extrusion4" cut sketch "Sketch4" against normal up to surface (3 mm away)
equation "\"d0\" = dpg"
equation "\"d1\" = dpg"
equation "\"d2\" = dpg"
equation "\"d3\" = dpg"
equation "\"d4\" = dpg"
equation "\"d5\" = dpg"
equation "\"d6\" = dpg"
equation "\"d7\" = dpg"
equation "\"d8\" = dpg"
equation "\"d15\" = d14"
equation "\"d16\" = d13"
equation "\"d17\" = d14"
equation "\"d18\" = d13"
equation "\"dpg\" = 0.5"
properties part number "Upper Left Plate" material "PET Plastic"
